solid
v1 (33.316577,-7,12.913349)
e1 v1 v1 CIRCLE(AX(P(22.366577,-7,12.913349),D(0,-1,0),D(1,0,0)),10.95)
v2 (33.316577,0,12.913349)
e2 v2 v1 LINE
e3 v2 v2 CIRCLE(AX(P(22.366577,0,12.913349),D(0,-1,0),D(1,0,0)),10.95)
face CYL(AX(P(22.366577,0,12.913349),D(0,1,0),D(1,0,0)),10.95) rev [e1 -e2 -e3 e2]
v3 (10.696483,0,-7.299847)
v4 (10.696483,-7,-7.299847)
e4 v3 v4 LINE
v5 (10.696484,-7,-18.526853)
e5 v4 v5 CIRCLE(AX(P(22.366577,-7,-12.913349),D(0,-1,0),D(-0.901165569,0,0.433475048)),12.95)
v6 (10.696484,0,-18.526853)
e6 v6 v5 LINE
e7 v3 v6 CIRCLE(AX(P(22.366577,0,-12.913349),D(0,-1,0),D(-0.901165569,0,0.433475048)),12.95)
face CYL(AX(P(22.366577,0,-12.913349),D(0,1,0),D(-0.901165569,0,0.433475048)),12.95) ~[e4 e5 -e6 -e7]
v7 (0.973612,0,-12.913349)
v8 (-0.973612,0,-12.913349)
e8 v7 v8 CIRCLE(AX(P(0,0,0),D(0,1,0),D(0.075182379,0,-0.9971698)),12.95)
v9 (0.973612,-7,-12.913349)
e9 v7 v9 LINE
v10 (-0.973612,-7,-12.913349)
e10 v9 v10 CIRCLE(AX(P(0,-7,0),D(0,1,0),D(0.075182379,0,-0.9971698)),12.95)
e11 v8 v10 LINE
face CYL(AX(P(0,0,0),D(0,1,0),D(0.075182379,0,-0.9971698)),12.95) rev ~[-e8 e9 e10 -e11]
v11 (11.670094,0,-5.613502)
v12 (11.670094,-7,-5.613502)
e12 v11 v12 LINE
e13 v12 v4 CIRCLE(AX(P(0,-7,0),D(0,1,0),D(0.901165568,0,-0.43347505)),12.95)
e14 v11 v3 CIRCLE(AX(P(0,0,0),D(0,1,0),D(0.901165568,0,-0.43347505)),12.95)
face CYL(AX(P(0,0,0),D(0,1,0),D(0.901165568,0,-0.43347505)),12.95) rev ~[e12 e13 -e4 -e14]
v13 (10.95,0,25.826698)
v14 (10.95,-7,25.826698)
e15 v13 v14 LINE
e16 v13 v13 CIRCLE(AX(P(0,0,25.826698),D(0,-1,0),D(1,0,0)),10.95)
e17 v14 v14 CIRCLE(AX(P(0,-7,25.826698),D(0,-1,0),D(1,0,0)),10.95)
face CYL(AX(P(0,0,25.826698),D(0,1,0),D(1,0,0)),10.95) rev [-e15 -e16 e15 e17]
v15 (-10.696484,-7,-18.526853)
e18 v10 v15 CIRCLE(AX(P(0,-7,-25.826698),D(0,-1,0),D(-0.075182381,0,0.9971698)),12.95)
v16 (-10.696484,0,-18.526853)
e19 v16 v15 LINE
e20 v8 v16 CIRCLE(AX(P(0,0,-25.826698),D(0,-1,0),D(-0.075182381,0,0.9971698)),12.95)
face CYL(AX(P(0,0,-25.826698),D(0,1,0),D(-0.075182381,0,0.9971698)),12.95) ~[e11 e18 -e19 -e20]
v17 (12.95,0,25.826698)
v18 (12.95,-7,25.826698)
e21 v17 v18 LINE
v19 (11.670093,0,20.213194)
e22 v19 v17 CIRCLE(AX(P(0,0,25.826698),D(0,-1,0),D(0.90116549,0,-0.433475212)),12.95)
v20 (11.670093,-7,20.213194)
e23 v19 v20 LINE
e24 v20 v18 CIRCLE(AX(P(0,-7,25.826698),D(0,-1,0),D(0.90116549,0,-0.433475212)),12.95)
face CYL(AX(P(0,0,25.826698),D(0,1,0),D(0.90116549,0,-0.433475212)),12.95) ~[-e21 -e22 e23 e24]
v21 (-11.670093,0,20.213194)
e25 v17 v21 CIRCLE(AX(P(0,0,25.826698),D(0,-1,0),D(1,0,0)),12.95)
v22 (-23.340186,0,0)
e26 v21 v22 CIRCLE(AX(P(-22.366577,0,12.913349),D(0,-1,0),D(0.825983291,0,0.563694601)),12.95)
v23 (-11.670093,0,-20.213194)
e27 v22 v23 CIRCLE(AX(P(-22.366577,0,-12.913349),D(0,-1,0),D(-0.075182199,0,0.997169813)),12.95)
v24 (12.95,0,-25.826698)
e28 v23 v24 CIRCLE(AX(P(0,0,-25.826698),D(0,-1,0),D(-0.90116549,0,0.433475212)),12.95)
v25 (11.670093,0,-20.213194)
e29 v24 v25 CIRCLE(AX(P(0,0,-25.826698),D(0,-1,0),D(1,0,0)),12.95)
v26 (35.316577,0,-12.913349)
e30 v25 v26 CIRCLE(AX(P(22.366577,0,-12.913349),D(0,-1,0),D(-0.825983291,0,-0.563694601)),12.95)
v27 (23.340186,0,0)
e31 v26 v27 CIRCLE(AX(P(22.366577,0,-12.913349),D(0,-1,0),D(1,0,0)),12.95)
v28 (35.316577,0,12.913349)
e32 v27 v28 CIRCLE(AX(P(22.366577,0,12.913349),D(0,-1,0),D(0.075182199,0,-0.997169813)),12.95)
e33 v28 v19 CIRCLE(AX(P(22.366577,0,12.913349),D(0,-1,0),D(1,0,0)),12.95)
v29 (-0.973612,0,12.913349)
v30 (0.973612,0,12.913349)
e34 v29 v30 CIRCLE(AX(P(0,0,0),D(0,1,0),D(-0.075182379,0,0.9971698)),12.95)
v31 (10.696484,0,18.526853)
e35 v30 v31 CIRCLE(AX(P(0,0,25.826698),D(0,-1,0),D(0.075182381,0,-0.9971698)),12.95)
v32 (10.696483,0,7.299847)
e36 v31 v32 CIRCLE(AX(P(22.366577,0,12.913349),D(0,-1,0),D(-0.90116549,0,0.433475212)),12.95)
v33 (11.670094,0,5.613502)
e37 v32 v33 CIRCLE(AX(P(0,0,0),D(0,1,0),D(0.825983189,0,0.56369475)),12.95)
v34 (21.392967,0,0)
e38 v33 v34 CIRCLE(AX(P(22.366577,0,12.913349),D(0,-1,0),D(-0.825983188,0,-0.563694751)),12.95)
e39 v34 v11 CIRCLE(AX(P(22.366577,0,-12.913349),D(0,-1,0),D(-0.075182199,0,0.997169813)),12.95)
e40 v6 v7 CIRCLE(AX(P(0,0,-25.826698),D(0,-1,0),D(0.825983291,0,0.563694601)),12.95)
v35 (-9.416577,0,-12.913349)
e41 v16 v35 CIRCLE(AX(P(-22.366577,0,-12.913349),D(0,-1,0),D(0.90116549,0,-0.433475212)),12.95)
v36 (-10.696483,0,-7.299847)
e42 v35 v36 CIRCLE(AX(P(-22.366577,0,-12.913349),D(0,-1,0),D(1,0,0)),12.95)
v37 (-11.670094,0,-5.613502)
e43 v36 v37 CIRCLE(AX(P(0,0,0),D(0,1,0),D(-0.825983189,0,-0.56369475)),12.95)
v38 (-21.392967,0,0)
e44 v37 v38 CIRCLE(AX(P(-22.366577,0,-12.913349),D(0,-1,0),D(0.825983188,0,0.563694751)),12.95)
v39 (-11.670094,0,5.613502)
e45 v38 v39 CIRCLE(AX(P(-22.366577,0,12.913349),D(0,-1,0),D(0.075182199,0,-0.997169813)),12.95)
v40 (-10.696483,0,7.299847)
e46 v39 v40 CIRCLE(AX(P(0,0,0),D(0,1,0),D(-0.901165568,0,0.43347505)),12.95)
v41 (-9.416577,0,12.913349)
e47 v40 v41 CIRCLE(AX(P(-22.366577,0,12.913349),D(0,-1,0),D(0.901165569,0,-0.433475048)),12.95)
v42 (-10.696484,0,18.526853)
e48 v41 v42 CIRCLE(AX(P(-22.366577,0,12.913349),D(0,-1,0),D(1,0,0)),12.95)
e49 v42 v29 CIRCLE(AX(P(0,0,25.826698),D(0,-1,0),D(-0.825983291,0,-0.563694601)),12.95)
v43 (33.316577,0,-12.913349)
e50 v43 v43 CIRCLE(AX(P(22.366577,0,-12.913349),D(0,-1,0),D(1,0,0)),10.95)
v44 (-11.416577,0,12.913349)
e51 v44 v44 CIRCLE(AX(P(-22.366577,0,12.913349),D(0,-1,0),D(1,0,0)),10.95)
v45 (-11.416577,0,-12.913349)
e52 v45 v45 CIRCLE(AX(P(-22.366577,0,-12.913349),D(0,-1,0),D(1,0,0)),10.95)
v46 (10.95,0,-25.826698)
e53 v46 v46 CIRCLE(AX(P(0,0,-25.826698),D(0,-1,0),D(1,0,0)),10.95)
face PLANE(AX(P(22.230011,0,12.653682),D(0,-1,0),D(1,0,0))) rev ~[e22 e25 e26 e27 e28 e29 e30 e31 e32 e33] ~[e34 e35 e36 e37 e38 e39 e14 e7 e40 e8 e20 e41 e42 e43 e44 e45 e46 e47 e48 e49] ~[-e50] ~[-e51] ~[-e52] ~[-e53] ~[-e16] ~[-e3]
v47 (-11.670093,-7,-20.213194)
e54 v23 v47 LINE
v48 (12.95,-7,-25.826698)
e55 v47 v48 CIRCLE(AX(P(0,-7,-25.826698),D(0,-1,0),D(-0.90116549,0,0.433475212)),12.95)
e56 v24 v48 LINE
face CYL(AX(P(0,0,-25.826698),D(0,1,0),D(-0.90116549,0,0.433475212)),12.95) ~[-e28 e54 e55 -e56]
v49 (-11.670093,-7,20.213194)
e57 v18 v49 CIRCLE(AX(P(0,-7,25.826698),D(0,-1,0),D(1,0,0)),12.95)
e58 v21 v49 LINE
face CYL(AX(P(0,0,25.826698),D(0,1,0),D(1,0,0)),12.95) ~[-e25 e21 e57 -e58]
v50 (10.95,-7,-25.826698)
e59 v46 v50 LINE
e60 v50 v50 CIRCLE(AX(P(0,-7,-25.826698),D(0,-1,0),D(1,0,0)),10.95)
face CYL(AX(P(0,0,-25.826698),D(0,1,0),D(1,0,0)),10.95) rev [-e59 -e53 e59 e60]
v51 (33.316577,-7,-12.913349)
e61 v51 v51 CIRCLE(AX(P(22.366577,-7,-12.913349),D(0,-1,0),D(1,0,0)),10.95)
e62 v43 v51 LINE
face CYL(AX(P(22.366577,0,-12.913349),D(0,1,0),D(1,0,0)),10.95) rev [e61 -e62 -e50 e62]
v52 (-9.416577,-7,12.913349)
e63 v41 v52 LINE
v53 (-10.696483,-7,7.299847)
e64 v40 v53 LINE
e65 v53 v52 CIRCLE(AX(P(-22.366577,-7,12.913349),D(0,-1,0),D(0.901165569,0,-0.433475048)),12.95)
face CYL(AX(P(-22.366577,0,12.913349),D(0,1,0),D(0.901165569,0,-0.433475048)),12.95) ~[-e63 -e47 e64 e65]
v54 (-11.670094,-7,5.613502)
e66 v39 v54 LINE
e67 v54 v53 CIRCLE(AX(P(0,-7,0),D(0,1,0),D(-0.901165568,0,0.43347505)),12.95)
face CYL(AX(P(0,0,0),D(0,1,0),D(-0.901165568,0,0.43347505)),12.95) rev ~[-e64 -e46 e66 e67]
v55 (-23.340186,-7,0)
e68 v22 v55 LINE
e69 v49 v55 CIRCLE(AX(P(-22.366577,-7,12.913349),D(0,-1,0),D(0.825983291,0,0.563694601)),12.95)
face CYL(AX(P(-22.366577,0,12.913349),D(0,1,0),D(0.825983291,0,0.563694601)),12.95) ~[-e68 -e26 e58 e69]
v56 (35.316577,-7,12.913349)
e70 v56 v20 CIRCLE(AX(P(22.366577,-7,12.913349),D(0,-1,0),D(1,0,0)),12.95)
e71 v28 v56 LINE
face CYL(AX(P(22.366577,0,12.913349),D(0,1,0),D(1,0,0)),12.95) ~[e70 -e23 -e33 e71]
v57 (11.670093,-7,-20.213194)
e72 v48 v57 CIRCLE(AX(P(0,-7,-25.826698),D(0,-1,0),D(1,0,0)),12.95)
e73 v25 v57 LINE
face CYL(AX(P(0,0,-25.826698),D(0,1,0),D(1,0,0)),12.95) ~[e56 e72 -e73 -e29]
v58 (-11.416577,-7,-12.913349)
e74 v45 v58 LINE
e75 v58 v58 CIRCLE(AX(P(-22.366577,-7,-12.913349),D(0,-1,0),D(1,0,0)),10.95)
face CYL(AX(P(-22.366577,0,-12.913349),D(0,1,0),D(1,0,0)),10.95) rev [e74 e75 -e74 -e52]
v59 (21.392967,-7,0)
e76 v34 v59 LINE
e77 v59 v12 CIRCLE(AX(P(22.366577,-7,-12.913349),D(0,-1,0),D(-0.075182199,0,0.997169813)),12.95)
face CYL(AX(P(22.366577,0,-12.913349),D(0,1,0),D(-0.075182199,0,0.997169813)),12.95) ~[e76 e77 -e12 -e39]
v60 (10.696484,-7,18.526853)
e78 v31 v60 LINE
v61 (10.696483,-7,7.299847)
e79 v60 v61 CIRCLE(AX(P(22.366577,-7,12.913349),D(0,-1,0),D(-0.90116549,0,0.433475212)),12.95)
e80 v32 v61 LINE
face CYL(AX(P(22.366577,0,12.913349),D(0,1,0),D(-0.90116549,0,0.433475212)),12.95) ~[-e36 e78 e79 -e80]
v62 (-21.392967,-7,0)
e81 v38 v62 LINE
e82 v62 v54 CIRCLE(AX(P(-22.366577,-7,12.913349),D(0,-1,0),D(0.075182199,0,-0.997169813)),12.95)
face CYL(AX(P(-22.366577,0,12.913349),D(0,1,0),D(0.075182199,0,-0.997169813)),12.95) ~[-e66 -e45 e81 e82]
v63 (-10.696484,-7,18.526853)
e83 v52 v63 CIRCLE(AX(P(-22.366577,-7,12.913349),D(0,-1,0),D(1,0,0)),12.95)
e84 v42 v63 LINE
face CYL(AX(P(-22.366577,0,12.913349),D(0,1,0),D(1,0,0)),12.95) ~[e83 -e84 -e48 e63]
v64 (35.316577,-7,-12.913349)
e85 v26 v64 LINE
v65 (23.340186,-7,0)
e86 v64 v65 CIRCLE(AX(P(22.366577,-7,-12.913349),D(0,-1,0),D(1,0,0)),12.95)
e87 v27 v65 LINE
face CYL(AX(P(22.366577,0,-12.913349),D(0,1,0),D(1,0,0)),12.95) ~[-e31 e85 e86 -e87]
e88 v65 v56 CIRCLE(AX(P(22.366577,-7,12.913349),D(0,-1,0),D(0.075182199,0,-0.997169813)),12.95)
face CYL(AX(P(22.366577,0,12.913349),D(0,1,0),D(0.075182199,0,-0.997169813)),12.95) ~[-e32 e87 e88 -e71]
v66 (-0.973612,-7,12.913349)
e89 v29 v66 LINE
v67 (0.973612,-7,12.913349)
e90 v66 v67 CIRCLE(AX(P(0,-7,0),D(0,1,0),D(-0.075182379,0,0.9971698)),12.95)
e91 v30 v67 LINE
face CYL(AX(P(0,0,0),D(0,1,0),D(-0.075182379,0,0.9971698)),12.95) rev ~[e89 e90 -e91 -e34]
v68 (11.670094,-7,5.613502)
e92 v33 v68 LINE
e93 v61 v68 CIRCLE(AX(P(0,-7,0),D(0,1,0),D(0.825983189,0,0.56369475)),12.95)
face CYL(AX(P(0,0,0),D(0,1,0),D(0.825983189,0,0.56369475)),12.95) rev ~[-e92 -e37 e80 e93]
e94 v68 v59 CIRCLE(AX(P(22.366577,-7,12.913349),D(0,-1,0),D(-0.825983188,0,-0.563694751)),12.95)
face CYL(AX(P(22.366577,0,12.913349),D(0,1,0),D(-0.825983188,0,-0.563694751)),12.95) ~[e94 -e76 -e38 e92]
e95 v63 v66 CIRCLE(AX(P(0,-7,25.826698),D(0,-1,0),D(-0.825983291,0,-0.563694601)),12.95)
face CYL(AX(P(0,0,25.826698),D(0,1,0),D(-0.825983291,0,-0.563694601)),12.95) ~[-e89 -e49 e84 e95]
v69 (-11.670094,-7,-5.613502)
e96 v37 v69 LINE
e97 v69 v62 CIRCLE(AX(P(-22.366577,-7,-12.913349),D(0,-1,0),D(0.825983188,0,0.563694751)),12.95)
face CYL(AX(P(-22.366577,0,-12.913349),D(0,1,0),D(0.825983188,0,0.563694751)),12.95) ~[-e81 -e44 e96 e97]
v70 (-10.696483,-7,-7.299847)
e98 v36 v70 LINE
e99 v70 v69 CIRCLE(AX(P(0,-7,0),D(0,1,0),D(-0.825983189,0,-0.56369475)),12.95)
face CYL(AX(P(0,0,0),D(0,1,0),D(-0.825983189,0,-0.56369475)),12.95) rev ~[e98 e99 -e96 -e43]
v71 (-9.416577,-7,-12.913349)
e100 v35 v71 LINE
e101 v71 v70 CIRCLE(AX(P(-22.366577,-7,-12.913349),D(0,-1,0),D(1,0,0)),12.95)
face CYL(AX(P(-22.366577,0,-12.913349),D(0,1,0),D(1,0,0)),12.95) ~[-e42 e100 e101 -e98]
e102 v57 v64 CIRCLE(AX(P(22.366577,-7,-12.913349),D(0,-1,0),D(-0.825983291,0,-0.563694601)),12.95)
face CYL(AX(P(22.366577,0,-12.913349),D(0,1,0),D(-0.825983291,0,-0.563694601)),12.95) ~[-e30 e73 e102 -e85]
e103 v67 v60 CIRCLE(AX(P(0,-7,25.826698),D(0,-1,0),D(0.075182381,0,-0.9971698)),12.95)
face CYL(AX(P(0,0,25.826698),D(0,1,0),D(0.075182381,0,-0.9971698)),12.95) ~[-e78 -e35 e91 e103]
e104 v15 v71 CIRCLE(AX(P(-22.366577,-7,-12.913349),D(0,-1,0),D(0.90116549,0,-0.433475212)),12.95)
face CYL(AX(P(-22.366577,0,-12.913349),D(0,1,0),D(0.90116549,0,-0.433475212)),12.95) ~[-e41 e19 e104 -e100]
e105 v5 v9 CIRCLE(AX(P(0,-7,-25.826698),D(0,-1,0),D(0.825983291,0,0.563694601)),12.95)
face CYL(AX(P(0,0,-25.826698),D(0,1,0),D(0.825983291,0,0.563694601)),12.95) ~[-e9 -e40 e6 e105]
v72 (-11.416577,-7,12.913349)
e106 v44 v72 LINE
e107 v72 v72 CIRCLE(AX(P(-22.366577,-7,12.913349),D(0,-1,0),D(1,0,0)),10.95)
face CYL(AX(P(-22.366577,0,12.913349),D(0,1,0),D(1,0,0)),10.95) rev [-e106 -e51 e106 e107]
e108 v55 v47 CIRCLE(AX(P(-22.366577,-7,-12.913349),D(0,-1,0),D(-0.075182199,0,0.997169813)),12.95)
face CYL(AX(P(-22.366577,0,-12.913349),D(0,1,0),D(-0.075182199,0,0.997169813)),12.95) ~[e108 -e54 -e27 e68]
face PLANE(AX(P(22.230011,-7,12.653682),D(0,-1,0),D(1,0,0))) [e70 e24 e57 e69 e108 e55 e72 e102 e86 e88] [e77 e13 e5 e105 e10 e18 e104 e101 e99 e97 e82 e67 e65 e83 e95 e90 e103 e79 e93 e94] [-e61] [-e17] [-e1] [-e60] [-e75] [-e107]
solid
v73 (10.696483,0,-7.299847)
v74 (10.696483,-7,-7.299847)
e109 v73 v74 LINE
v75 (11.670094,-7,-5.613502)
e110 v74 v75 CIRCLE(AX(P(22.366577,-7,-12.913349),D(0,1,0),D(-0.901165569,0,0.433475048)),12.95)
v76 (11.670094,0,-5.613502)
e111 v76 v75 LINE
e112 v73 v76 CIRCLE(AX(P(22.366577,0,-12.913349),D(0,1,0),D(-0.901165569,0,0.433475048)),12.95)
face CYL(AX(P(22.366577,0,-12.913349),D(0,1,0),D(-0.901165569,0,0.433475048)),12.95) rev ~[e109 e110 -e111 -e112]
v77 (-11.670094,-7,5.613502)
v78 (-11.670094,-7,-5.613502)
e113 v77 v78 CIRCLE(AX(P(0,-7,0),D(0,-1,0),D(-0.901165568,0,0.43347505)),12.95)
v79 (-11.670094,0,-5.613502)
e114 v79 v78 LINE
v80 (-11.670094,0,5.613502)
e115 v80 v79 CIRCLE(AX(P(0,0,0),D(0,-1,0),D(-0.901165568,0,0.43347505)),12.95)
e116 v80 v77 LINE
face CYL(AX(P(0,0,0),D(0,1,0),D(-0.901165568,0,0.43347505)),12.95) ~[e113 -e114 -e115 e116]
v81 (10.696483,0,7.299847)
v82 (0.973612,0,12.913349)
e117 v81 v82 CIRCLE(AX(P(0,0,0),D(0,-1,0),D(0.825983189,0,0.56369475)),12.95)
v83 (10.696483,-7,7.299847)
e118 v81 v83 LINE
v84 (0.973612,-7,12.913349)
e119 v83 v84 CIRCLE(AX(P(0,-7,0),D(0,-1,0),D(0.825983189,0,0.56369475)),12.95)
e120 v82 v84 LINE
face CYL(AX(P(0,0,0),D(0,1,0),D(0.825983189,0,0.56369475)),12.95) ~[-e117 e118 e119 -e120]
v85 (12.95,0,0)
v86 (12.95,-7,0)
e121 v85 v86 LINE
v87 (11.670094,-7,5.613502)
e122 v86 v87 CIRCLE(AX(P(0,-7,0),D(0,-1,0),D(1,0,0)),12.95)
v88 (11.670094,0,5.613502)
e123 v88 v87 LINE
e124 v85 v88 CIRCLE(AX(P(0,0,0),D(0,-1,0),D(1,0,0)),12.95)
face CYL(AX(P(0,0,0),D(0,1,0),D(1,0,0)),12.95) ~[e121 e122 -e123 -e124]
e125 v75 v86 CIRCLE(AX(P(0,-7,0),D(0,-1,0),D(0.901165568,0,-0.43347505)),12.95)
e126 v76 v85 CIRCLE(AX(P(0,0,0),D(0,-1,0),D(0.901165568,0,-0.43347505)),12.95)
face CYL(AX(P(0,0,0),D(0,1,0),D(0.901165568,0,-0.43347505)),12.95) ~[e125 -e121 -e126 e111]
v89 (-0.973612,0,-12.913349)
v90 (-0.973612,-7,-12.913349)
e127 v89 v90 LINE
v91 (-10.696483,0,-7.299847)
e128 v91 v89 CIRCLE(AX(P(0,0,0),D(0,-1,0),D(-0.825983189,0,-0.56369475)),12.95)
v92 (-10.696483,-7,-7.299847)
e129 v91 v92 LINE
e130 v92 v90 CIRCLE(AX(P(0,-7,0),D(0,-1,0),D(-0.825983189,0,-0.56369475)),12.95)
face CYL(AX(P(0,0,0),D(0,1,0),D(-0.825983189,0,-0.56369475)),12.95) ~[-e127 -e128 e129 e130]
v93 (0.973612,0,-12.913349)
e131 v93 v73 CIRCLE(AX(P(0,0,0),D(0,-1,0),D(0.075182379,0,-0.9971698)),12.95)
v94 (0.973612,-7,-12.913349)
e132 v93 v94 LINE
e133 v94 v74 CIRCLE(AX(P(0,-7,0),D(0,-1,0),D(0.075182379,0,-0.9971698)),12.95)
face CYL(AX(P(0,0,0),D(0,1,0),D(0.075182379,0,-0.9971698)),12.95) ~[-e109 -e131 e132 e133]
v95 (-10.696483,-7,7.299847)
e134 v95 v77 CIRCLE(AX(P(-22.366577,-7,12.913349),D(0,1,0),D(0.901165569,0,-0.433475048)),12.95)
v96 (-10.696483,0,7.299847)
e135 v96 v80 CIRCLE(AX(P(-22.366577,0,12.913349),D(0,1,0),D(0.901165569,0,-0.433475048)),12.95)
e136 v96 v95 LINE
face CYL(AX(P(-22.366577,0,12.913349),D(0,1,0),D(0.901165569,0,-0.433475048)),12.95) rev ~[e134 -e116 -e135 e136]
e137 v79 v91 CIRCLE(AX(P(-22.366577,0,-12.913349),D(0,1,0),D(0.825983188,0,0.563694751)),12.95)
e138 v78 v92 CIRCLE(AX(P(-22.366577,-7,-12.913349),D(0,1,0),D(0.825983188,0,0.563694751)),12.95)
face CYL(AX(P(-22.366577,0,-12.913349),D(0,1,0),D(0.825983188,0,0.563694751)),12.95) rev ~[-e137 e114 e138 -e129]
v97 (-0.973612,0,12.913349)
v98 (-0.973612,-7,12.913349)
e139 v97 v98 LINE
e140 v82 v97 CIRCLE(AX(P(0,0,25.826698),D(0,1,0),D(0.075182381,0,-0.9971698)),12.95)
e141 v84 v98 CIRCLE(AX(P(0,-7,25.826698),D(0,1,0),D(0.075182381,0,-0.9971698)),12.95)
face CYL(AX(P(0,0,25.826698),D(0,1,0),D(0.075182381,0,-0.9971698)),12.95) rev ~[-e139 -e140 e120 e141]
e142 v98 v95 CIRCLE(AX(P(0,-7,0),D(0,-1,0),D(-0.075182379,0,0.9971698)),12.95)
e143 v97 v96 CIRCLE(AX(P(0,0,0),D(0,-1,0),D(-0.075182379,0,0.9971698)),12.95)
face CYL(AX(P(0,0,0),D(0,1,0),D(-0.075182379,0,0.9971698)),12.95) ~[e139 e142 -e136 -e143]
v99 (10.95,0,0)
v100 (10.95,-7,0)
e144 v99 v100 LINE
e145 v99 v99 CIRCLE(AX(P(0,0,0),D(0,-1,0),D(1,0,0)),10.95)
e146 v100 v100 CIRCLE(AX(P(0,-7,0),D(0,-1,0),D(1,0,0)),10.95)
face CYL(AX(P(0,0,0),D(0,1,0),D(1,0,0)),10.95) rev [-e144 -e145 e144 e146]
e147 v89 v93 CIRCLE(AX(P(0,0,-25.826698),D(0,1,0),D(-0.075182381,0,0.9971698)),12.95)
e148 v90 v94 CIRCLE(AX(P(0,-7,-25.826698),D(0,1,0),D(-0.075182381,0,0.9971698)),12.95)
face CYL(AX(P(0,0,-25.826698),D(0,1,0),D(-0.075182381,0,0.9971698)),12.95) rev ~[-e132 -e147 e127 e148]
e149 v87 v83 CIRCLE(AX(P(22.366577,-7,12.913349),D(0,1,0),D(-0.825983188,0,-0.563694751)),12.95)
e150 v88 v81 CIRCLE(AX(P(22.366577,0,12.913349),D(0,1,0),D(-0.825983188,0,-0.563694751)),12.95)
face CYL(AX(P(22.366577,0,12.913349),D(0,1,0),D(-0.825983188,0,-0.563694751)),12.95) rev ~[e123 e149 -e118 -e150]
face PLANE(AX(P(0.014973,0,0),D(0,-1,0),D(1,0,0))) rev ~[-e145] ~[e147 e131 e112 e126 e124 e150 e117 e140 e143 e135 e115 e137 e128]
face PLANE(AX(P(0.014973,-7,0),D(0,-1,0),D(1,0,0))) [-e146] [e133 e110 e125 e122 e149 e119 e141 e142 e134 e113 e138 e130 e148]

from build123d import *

# Parameters (mm, degrees)
F0_R     = 10.95
F1_DEPTH = 7


with BuildPart() as f1:
    # F0 (on Front) → F1 (new body)
    with BuildSketch(Plane.XZ):
        with BuildLine():
            ThreePointArc((10.696482594, 7.2998472083), (11.2150292849, 6.4750001766), (11.6700944231, 5.6135020534))
            ThreePointArc((11.6700944231, 5.6135020534), (15.8915777302, 1.6983195167), (21.3929672299, 0))
            ThreePointArc((21.3929672299, 0), (22.3665767103, 0.0366509154), (23.3401861908, 0))
            ThreePointArc((23.3401861908, 0), (31.8615949507, 4.1072643351), (35.3165767103, 12.9133490846))
            ThreePointArc((35.3165767103, 12.9133490846), (26.1864613412, 25.2871513057), (11.6700930954, 20.2131941703))
            ThreePointArc((11.6700930954, 20.2131941703), (11.215028979, 19.3516981691), (10.6964836149, 18.5268530834))
            ThreePointArc((10.6964836149, 18.5268530834), (9.4165767103, 12.9133502622), (10.696482594, 7.2998472083))
        make_face()
        with Locations((22.3665767103, 12.9133490846)):
            Circle(F0_R, mode=Mode.SUBTRACT)
        with BuildLine():
            ThreePointArc((21.3929672299, 0), (15.8915777302, -1.6983195167), (11.6700944231, -5.6135020534))
            ThreePointArc((11.6700944231, -5.6135020534), (11.2150292849, -6.4750001766), (10.696482594, -7.2998472083))
            ThreePointArc((10.696482594, -7.2998472083), (9.4165767103, -12.9133502622), (10.6964836149, -18.5268530834))
            ThreePointArc((10.6964836149, -18.5268530834), (11.215028979, -19.3516981691), (11.6700930954, -20.2131941703))
            ThreePointArc((11.6700930954, -20.2131941703), (26.1864613412, -25.2871513057), (35.3165767103, -12.9133490846))
            ThreePointArc((35.3165767103, -12.9133490846), (31.8615949507, -4.1072643351), (23.3401861908, 0))
            ThreePointArc((23.3401861908, 0), (22.3665767103, -0.0366509154), (21.3929672299, 0))
        make_face()
        with Locations((22.3665767103, -12.9133490846)):
            Circle(F0_R, mode=Mode.SUBTRACT)
        with BuildLine():
            ThreePointArc((23.3401861908, 0), (22.3665767103, 0.0366509154), (21.3929672299, 0))
            ThreePointArc((21.3929672299, 0), (22.3665767103, -0.0366509154), (23.3401861908, 0))
        make_face()
        with BuildLine():
            ThreePointArc((-0.9736118291, 12.9133492616), (0, 12.9500003532), (0.9736118291, 12.9133492616))
            ThreePointArc((0.9736118291, 12.9133492616), (6.4750010199, 14.6116697789), (10.6964836149, 18.5268530834))
            ThreePointArc((10.6964836149, 18.5268530834), (11.1515477313, 19.3883490846), (11.6700930954, 20.2131941703))
            ThreePointArc((11.6700930954, 20.2131941703), (12.6259693803, 22.9479141884), (12.95, 25.8266981691))
            ThreePointArc((12.95, 25.8266981691), (-2.8787839807, 38.4526675494), (-11.6700930954, 20.2131941703))
            ThreePointArc((-11.6700930954, 20.2131941703), (-11.1515477313, 19.3883490846), (-10.6964836149, 18.5268530834))
            ThreePointArc((-10.6964836149, 18.5268530834), (-6.4750010199, 14.6116697789), (-0.9736118291, 12.9133492616))
        make_face()
        with Locations((0, 25.8266981691)):
            Circle(F0_R, mode=Mode.SUBTRACT)
        with BuildLine():
            ThreePointArc((11.6700930954, 20.2131941703), (11.1515477313, 19.3883490846), (10.6964836149, 18.5268530834))
            ThreePointArc((10.6964836149, 18.5268530834), (11.215028979, 19.3516981691), (11.6700930954, 20.2131941703))
        make_face()
        with BuildLine():
            ThreePointArc((10.6964836149, -18.5268530834), (6.4750010199, -14.6116697789), (0.9736118291, -12.9133492616))
            ThreePointArc((0.9736118291, -12.9133492616), (0, -12.9500003532), (-0.9736118291, -12.9133492616))
            ThreePointArc((-0.9736118291, -12.9133492616), (-6.4750010199, -14.6116697789), (-10.6964836149, -18.5268530834))
            ThreePointArc((-10.6964836149, -18.5268530834), (-11.1515477313, -19.3883490846), (-11.6700930954, -20.2131941703))
            ThreePointArc((-11.6700930954, -20.2131941703), (-2.8787839807, -38.4526675494), (12.95, -25.8266981691))
            ThreePointArc((12.95, -25.8266981691), (12.6259693803, -22.9479141884), (11.6700930954, -20.2131941703))
            ThreePointArc((11.6700930954, -20.2131941703), (11.1515477313, -19.3883490846), (10.6964836149, -18.5268530834))
        make_face()
        with Locations((0, -25.8266981691)):
            Circle(F0_R, mode=Mode.SUBTRACT)
        with BuildLine():
            ThreePointArc((11.6700930954, -20.2131941703), (11.215028979, -19.3516981691), (10.6964836149, -18.5268530834))
            ThreePointArc((10.6964836149, -18.5268530834), (11.1515477313, -19.3883490846), (11.6700930954, -20.2131941703))
        make_face()
        with BuildLine():
            ThreePointArc((-11.6700944231, 5.6135020534), (-11.2150292849, 6.4750001766), (-10.696482594, 7.2998472083))
            ThreePointArc((-10.696482594, 7.2998472083), (-9.7406070682, 10.0345662521), (-9.4165767103, 12.9133490846))
            ThreePointArc((-9.4165767103, 12.9133490846), (-9.74060733, 15.7921330652), (-10.6964836149, 18.5268530834))
            ThreePointArc((-10.6964836149, 18.5268530834), (-11.215028979, 19.3516981691), (-11.6700930954, 20.2131941703))
            ThreePointArc((-11.6700930954, 20.2131941703), (-33.5816056893, 19.3883490846), (-23.3401861908, 0))
            ThreePointArc((-23.3401861908, 0), (-22.3665767103, 0.0366509154), (-21.3929672299, 0))
            ThreePointArc((-21.3929672299, 0), (-15.8915777302, 1.6983195167), (-11.6700944231, 5.6135020534))
        make_face()
        with Locations((-22.3665767103, 12.9133490846)):
            Circle(F0_R, mode=Mode.SUBTRACT)
        with BuildLine():
            ThreePointArc((-11.6700930954, 20.2131941703), (-11.215028979, 19.3516981691), (-10.6964836149, 18.5268530834))
            ThreePointArc((-10.6964836149, 18.5268530834), (-11.1515477313, 19.3883490846), (-11.6700930954, 20.2131941703))
        make_face()
        with BuildLine():
            ThreePointArc((-9.4165767103, -12.9133490846), (-9.7406070682, -10.0345662521), (-10.696482594, -7.2998472083))
            ThreePointArc((-10.696482594, -7.2998472083), (-11.2150292849, -6.4750001766), (-11.6700944231, -5.6135020534))
            ThreePointArc((-11.6700944231, -5.6135020534), (-15.8915777302, -1.6983195167), (-21.3929672299, 0))
            ThreePointArc((-21.3929672299, 0), (-22.3665767103, -0.0366509154), (-23.3401861908, 0))
            ThreePointArc((-23.3401861908, 0), (-33.5816056893, -19.3883490846), (-11.6700930954, -20.2131941703))
            ThreePointArc((-11.6700930954, -20.2131941703), (-11.215028979, -19.3516981691), (-10.6964836149, -18.5268530834))
            ThreePointArc((-10.6964836149, -18.5268530834), (-9.74060733, -15.7921330652), (-9.4165767103, -12.9133490846))
        make_face()
        with Locations((-22.3665767103, -12.9133490846)):
            Circle(F0_R, mode=Mode.SUBTRACT)
        with BuildLine():
            ThreePointArc((-11.6700930954, -20.2131941703), (-11.1515477313, -19.3883490846), (-10.6964836149, -18.5268530834))
            ThreePointArc((-10.6964836149, -18.5268530834), (-11.215028979, -19.3516981691), (-11.6700930954, -20.2131941703))
        make_face()
        with BuildLine():
            ThreePointArc((-23.3401861908, 0), (-22.3665767103, -0.0366509154), (-21.3929672299, 0))
            ThreePointArc((-21.3929672299, 0), (-22.3665767103, 0.0366509154), (-23.3401861908, 0))
        make_face()
    extrude(amount=F1_DEPTH)


with BuildPart() as f1b:
    # F0 (on Front) → F1, piece 2 (new body)
    with BuildSketch(Plane.XZ):
        with BuildLine():
            ThreePointArc((11.6700944231, -5.6135020534), (12.6259699835, -2.878782924), (12.9500003532, 0))
            ThreePointArc((12.9500003532, 0), (12.6259699835, 2.878782924), (11.6700944231, 5.6135020534))
            ThreePointArc((11.6700944231, 5.6135020534), (11.1515477313, 6.4383490846), (10.696482594, 7.2998472083))
            ThreePointArc((10.696482594, 7.2998472083), (6.4750001766, 11.2150292849), (0.9736118291, 12.9133492616))
            ThreePointArc((0.9736118291, 12.9133492616), (0, 12.8766981691), (-0.9736118291, 12.9133492616))
            ThreePointArc((-0.9736118291, 12.9133492616), (-6.4750001766, 11.2150292849), (-10.696482594, 7.2998472083))
            ThreePointArc((-10.696482594, 7.2998472083), (-11.1515477313, 6.4383490846), (-11.6700944231, 5.6135020534))
            ThreePointArc((-11.6700944231, 5.6135020534), (-12.9500003532, 0), (-11.6700944231, -5.6135020534))
            ThreePointArc((-11.6700944231, -5.6135020534), (-11.1515477313, -6.4383490846), (-10.696482594, -7.2998472083))
            ThreePointArc((-10.696482594, -7.2998472083), (-6.4750001766, -11.2150292849), (-0.9736118291, -12.9133492616))
            ThreePointArc((-0.9736118291, -12.9133492616), (0, -12.8766981691), (0.9736118291, -12.9133492616))
            ThreePointArc((0.9736118291, -12.9133492616), (6.4750001766, -11.2150292849), (10.696482594, -7.2998472083))
            ThreePointArc((10.696482594, -7.2998472083), (11.1515477313, -6.4383490846), (11.6700944231, -5.6135020534))
        make_face()
        Circle(F0_R, mode=Mode.SUBTRACT)
    extrude(amount=F1_DEPTH)


solid = Compound([f1.part, f1b.part])
